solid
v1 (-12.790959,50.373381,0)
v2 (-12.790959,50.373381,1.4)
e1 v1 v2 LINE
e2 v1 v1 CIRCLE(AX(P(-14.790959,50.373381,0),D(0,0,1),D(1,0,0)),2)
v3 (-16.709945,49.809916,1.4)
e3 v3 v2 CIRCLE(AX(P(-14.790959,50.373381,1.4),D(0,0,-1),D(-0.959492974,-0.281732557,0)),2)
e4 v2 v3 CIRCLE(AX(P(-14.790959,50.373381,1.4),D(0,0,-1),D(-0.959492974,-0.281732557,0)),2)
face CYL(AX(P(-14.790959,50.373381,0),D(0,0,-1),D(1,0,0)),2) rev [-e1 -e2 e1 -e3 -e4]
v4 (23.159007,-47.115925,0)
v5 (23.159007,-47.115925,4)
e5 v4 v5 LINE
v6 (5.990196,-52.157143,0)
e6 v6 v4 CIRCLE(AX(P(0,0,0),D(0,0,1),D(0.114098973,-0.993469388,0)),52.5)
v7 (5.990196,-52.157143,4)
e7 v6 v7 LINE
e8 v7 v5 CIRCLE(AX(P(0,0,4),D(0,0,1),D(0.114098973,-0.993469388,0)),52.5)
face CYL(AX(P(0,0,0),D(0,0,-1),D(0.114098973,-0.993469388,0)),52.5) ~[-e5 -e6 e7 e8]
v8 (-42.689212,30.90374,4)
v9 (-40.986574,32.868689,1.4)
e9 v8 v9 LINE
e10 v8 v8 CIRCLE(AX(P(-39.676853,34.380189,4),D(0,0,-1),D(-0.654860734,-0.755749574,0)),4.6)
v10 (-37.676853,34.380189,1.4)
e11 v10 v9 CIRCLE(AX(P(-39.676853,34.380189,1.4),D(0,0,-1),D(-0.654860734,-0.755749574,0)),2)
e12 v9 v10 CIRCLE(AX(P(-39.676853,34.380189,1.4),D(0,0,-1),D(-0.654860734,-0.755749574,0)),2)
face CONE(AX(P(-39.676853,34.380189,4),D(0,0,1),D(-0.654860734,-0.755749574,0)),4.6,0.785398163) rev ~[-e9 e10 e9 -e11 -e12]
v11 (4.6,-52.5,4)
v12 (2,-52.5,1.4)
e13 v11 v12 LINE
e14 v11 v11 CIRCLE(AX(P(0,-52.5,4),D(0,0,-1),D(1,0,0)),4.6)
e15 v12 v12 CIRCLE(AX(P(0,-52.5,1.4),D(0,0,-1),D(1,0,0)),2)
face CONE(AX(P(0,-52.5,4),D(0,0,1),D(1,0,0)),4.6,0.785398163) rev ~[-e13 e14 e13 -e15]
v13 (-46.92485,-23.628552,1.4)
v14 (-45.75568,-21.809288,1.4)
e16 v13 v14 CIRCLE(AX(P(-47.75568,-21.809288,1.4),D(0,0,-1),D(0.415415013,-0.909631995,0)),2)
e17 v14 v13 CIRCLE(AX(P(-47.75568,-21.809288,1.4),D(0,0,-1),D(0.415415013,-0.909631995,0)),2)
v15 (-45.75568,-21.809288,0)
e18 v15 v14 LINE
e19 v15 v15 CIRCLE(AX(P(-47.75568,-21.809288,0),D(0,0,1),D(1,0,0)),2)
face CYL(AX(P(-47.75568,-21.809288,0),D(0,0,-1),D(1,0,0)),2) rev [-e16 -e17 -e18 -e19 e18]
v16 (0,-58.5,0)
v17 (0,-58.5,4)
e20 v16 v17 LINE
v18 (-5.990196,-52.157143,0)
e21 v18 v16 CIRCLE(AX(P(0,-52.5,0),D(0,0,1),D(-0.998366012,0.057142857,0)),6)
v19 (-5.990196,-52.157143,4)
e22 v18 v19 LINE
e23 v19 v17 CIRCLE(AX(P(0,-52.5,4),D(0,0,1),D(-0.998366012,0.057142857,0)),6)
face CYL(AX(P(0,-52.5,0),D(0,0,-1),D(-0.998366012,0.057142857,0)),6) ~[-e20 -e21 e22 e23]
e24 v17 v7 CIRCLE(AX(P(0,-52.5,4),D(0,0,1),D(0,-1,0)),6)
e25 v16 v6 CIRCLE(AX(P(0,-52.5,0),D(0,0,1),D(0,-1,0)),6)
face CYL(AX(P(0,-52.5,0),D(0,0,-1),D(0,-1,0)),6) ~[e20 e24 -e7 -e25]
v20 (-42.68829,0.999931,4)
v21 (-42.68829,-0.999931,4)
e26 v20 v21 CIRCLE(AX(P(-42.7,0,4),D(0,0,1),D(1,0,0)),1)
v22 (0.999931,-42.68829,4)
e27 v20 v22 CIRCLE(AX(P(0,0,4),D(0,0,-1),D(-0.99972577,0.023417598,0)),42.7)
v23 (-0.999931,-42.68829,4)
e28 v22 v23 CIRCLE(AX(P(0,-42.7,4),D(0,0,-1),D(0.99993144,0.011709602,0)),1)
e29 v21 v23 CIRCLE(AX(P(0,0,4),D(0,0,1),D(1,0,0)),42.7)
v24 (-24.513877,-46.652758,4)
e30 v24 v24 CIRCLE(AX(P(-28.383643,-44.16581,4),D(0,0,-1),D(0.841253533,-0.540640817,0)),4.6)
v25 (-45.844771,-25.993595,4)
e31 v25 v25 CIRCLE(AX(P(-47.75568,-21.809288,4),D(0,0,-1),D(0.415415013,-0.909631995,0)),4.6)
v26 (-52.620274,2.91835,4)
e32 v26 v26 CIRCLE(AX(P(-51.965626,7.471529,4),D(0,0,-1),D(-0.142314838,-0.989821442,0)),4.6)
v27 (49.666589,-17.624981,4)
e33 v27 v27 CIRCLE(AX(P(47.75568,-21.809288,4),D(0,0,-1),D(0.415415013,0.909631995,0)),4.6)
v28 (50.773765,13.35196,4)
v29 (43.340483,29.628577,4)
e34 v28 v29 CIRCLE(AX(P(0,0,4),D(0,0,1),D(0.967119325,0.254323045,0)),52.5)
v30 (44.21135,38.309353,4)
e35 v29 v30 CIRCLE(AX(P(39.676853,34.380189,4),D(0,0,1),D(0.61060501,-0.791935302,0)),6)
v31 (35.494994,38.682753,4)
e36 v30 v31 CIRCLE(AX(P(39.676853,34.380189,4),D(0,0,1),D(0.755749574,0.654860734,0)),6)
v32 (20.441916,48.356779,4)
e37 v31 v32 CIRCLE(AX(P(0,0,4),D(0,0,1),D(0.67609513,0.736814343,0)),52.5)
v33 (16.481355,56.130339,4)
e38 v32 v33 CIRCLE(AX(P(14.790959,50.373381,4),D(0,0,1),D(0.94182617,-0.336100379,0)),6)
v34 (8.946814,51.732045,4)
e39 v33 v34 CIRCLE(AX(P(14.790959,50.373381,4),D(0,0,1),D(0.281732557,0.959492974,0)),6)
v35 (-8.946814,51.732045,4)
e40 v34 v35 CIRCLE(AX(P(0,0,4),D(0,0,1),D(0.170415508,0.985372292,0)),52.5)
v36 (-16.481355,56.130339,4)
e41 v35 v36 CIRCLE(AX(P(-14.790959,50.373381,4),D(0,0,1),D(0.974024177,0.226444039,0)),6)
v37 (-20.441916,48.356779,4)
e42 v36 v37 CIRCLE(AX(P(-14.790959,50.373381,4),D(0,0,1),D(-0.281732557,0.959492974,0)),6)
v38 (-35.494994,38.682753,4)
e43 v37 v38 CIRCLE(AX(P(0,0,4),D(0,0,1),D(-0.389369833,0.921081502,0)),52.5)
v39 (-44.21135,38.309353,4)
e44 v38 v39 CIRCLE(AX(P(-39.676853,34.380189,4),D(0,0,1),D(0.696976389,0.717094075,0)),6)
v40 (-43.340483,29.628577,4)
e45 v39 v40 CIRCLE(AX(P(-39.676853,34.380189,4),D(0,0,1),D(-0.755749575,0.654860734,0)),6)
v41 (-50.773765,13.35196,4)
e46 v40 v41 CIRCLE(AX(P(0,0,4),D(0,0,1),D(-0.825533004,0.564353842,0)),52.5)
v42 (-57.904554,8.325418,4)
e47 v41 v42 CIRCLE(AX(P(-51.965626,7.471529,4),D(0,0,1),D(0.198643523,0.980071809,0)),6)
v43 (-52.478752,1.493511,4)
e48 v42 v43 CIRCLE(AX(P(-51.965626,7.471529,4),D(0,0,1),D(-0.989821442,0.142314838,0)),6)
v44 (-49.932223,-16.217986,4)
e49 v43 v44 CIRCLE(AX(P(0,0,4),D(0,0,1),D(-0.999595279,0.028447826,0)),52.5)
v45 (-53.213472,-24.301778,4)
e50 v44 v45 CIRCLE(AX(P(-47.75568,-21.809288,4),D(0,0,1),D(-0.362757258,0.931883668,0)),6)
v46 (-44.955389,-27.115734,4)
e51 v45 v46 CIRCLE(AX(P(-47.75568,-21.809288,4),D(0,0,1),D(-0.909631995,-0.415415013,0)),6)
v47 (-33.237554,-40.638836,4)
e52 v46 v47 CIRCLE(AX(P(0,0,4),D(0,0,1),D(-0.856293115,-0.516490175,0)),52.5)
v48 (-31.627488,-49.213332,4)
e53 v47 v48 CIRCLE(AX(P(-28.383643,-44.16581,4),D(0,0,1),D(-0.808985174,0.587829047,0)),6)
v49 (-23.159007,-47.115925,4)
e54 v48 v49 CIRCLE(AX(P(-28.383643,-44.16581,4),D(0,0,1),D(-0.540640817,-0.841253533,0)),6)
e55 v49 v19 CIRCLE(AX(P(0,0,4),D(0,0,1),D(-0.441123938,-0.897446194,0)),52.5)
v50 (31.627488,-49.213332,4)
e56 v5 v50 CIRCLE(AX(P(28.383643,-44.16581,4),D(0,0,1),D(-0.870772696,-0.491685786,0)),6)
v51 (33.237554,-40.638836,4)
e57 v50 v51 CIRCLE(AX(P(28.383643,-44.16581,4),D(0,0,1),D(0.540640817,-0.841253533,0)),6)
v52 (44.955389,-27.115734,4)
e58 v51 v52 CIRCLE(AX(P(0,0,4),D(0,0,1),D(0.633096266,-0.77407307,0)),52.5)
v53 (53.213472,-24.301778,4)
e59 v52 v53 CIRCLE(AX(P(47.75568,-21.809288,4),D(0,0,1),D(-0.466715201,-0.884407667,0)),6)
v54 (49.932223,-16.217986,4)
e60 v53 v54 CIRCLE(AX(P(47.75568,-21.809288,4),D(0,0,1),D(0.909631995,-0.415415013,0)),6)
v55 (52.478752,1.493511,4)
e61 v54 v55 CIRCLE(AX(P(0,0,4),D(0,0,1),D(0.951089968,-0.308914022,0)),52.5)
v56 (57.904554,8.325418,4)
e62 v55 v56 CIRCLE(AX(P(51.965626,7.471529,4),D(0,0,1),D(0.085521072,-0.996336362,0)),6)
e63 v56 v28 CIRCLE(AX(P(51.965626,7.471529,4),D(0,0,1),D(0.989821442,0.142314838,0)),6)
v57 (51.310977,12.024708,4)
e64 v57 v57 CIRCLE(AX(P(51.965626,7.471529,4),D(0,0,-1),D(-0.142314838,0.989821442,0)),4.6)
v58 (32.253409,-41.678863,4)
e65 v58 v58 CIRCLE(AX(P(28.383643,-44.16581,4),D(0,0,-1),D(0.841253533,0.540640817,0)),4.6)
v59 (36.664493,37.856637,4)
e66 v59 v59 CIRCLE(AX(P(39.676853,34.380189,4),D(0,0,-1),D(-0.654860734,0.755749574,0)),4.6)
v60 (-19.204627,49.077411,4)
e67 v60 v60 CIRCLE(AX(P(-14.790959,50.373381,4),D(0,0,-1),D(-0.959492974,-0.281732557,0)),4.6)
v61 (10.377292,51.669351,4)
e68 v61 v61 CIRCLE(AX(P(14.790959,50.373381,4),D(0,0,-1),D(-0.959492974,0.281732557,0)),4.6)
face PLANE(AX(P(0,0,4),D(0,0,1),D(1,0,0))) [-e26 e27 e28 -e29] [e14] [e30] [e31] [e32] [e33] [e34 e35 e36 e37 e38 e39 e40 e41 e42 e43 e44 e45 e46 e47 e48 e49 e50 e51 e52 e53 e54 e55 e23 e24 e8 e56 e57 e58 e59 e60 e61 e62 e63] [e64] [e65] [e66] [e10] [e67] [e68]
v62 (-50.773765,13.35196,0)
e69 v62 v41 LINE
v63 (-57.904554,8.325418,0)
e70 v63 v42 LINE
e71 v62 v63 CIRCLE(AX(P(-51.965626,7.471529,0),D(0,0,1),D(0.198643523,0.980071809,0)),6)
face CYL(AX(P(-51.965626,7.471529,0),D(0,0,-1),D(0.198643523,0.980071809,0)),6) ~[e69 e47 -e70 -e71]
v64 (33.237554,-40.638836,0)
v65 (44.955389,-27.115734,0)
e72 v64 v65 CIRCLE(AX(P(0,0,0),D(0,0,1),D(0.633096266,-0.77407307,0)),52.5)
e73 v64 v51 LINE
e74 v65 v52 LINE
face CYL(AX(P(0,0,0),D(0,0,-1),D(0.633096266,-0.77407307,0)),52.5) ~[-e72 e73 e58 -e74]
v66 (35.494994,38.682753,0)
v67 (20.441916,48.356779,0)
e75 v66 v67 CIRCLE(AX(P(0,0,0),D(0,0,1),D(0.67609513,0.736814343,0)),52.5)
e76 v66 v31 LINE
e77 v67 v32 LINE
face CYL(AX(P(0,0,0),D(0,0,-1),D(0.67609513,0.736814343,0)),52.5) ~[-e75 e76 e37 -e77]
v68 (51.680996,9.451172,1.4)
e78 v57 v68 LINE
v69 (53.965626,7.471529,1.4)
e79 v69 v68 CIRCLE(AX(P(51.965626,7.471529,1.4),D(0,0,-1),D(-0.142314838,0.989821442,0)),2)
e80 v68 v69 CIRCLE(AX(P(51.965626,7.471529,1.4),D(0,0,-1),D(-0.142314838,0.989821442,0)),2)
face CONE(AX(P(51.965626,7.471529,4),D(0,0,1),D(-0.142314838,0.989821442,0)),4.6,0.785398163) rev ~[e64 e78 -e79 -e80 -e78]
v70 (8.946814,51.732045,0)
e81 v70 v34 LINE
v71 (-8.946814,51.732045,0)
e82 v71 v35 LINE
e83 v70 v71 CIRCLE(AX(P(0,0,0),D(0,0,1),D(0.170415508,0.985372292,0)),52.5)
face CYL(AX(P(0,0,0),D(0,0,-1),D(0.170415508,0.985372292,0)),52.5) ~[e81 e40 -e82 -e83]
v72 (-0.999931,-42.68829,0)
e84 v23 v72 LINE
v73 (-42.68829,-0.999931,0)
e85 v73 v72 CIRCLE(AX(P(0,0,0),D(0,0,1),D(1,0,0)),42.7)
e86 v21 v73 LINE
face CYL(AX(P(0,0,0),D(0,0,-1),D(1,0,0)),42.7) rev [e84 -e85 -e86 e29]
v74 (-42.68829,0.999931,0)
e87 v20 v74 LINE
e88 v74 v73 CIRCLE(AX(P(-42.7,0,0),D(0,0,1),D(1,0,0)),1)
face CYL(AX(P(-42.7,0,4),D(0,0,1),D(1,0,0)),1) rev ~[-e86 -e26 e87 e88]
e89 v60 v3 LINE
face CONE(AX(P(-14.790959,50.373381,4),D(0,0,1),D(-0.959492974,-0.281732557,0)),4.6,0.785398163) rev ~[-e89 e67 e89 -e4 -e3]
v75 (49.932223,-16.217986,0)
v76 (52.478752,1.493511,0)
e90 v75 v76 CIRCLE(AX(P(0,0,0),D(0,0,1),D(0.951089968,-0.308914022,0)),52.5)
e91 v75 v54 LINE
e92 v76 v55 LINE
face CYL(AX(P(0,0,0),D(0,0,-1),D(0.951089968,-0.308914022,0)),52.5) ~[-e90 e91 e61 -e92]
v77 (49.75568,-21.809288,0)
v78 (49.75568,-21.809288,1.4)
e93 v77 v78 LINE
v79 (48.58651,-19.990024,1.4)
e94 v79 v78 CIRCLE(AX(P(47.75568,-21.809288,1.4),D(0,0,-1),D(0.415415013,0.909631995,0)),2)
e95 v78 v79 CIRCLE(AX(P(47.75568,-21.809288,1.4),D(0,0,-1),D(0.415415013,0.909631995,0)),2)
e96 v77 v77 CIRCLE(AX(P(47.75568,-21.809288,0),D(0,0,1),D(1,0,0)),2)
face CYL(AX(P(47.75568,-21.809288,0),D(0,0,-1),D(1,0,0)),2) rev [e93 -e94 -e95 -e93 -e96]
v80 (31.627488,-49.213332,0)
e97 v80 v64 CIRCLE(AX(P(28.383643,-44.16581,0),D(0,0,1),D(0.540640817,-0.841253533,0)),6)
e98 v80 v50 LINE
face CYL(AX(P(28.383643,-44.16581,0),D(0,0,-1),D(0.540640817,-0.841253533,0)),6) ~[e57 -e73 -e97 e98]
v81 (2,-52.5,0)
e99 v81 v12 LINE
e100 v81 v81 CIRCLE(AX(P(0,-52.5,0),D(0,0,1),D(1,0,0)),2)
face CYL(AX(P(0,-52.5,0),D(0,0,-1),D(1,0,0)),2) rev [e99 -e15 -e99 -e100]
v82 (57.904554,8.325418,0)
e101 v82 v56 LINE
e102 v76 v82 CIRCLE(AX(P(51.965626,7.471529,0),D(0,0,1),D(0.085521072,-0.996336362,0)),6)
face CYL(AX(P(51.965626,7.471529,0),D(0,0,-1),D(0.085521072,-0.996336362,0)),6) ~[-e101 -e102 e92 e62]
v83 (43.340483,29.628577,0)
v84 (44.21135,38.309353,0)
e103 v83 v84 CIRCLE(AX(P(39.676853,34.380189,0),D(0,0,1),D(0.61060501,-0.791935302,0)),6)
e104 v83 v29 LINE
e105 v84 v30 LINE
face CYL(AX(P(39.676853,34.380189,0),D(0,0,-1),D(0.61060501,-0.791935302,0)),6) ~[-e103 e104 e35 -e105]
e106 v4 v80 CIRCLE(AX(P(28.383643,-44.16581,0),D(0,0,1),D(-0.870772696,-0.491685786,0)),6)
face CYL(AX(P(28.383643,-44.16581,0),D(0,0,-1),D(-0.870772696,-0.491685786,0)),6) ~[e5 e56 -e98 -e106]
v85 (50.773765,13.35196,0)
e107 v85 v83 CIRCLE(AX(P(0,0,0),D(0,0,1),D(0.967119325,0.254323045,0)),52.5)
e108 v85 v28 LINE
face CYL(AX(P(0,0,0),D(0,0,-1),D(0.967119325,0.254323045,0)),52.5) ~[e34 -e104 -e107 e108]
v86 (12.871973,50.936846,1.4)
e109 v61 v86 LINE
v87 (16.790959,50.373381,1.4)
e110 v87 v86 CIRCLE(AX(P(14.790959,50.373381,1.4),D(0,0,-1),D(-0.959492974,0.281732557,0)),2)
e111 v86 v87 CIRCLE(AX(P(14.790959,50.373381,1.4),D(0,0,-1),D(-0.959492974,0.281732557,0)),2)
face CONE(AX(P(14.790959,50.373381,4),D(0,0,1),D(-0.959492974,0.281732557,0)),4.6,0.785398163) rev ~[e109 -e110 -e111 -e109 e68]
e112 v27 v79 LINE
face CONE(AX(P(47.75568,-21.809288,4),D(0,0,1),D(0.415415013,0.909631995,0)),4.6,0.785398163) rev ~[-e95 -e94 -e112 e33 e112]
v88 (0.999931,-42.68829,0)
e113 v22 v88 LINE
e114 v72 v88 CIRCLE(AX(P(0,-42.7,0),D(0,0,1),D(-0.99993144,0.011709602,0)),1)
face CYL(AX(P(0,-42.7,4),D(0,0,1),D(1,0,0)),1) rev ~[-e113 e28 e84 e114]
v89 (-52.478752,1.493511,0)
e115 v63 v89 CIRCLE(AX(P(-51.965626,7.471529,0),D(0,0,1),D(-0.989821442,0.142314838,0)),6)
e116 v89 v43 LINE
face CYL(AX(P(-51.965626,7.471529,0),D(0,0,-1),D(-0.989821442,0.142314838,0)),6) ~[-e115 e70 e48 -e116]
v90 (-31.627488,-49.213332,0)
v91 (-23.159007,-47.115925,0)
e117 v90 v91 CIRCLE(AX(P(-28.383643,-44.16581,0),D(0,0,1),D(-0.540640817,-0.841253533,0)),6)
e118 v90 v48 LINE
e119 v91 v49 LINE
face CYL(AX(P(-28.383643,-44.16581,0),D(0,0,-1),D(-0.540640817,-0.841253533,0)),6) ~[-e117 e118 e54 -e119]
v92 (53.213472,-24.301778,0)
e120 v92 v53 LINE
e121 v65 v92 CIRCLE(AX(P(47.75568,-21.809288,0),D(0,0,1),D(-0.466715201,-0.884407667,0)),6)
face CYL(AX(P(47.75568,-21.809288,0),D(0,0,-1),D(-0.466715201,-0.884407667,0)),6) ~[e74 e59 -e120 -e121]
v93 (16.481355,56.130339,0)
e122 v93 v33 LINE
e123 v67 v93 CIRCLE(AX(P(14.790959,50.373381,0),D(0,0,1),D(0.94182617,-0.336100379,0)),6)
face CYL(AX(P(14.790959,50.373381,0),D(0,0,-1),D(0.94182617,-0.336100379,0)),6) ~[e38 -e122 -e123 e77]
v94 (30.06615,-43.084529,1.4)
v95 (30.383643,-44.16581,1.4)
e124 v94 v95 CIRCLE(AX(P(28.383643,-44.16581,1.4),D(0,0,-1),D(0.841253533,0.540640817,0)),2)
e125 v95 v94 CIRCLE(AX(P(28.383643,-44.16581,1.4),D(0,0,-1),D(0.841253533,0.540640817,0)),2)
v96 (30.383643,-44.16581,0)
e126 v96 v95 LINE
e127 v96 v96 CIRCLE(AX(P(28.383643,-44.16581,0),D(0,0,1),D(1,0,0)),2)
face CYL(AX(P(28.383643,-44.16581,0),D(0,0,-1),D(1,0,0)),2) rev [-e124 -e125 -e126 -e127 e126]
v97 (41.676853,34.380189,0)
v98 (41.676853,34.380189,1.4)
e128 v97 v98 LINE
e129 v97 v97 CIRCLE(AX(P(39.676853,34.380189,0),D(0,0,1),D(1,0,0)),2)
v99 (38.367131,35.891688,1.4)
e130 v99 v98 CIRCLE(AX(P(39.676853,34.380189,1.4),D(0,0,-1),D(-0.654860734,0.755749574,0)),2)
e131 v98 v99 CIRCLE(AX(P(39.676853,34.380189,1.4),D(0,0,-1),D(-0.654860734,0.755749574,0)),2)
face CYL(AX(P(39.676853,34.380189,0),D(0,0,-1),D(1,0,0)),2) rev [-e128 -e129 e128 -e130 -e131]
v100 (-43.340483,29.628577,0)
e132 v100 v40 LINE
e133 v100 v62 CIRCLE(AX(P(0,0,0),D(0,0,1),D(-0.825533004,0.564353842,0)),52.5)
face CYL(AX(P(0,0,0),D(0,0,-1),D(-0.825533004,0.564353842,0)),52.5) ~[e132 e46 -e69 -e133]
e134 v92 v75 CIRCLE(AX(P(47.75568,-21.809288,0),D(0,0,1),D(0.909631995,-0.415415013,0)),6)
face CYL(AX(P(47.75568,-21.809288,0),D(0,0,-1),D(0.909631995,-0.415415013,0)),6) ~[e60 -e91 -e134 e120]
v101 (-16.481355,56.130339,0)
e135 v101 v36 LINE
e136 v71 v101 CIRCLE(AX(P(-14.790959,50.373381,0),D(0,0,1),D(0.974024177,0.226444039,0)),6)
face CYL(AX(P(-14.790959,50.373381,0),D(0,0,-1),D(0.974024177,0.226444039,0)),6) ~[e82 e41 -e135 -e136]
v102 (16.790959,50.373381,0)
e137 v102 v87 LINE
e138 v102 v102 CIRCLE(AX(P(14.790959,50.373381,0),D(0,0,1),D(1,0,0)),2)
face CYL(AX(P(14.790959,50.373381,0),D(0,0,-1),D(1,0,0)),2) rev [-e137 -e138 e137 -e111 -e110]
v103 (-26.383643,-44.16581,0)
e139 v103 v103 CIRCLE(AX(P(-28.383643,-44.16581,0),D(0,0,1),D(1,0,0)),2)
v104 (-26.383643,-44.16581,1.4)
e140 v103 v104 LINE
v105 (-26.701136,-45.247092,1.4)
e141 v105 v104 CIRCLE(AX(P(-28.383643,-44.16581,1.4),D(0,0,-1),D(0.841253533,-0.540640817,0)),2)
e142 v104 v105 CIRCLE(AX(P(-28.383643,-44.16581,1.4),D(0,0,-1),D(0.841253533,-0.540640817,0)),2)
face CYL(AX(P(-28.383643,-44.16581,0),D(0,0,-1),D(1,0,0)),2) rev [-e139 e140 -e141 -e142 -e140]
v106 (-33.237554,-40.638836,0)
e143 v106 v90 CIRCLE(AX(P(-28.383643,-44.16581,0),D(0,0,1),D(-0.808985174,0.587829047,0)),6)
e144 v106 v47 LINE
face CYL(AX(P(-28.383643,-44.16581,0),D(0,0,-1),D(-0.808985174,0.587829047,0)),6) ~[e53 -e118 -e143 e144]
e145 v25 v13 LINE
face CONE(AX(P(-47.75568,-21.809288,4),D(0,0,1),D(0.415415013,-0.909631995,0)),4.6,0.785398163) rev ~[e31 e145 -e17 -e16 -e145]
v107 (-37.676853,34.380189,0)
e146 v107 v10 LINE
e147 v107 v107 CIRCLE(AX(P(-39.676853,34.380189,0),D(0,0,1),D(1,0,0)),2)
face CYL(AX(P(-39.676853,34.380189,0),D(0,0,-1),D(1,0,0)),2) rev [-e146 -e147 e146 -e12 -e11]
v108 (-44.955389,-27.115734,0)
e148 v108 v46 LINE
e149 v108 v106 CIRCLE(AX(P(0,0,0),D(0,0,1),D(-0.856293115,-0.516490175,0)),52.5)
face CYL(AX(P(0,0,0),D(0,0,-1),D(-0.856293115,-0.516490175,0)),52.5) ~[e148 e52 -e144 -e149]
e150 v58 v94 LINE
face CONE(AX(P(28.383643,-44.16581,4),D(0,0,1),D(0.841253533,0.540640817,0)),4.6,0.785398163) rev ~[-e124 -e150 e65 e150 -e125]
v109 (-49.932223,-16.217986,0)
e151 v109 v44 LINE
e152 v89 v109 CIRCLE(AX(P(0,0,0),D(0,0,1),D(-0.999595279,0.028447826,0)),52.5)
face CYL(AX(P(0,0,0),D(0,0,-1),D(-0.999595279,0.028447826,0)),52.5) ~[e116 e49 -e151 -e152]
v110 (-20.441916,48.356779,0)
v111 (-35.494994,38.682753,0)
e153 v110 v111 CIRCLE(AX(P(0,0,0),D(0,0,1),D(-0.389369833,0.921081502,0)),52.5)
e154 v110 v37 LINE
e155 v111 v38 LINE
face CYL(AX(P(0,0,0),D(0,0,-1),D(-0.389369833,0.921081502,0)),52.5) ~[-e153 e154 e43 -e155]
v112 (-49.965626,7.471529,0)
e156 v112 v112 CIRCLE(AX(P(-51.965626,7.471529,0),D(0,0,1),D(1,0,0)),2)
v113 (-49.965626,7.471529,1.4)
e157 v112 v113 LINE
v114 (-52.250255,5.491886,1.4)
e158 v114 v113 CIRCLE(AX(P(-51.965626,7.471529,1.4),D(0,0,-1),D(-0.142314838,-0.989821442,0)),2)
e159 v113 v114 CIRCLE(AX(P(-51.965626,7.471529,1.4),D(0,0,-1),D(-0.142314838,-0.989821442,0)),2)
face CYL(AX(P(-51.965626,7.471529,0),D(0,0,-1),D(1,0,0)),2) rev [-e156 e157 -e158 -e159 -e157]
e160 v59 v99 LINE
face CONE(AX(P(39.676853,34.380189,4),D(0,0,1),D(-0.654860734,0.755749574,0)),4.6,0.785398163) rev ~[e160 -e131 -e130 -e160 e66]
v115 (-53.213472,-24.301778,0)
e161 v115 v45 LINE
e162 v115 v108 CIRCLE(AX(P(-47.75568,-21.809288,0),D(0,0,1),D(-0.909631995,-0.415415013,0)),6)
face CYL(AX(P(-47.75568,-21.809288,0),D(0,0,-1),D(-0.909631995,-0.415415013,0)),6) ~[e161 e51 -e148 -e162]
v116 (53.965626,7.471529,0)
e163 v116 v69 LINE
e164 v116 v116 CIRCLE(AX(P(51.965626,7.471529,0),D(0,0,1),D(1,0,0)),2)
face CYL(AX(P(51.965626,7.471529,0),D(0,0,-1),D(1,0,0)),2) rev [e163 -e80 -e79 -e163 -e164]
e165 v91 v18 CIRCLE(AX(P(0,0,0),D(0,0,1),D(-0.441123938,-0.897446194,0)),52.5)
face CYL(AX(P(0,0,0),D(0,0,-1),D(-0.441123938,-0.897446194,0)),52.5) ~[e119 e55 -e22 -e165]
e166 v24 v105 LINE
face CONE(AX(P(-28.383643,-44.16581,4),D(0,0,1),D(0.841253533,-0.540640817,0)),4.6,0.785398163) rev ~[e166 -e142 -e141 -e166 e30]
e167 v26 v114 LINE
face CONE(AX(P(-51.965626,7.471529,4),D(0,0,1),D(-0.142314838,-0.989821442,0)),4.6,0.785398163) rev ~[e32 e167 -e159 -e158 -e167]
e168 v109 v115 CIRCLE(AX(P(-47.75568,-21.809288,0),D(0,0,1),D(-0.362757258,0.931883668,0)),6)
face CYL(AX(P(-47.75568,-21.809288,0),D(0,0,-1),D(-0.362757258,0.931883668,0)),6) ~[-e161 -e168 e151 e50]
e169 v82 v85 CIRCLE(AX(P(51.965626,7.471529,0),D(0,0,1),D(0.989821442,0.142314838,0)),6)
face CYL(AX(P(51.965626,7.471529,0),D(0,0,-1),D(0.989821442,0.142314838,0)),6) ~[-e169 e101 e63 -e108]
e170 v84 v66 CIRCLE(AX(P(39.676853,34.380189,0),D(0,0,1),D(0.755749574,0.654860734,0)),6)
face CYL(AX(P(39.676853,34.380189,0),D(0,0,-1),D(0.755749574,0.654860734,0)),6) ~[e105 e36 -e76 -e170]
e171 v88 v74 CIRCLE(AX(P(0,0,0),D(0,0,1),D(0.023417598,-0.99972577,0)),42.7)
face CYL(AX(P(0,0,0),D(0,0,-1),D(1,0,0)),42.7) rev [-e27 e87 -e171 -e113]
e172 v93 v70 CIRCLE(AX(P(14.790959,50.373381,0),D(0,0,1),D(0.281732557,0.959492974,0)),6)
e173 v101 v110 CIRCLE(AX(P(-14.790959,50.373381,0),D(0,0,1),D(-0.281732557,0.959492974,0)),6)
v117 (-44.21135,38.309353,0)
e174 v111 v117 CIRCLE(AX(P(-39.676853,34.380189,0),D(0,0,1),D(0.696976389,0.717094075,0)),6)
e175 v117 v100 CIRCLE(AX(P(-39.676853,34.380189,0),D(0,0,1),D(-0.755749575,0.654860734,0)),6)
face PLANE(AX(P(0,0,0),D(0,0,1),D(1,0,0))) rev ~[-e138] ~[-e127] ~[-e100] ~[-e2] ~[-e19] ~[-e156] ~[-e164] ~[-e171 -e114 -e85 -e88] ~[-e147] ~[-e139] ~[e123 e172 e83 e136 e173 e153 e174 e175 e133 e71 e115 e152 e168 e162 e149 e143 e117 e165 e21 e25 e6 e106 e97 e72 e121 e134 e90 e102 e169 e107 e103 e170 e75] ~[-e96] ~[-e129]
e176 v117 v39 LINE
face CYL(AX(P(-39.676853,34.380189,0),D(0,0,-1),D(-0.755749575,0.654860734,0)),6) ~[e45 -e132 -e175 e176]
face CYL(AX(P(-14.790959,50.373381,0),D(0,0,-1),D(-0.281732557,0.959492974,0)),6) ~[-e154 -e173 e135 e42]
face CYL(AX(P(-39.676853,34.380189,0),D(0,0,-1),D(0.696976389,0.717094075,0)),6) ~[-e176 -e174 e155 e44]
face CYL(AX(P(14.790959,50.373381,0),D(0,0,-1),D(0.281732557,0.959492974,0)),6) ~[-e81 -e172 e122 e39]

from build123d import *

# Parameters (mm, degrees)
SKETCH_1_R               = 42.7
SKETCH_1_R_2             = 2
EXTRUDE_1_DEPTH          = 4
SKETCH_2_R               = 1
CUT_EXTRUDE_1_DEPTH      = 4
PATTERN_CIRCULAR_1_COUNT = 11


with BuildPart() as part:
    # 草图1 → 凸台-拉伸1 (new body)
    with BuildSketch(Plane.XY):
        with BuildLine():
            ThreePointArc((-57.90455435, 8.325418039), (-56.664135325, 3.740040393), (-52.478752132, 1.493510837))
            ThreePointArc((-52.478752132, 1.493510837), (-51.965625699, -7.471529009), (-49.932223308, -16.217986173))
            ThreePointArc((-49.932223308, -16.217986173), (-53.315148558, -19.552674205), (-53.213471728, -24.301778261))
            ThreePointArc((-53.213471728, -24.301778261), (-49.690922522, -27.488622249), (-44.95538855, -27.115734184))
            ThreePointArc((-44.95538855, -27.115734184), (-39.676852654, -34.380188532), (-33.237553958, -40.63883619))
            ThreePointArc((-33.237553958, -40.63883619), (-34.280583312, -45.27310175), (-31.627487821, -49.213331671))
            ThreePointArc((-31.627487821, -49.213331671), (-26.941192918, -49.989841552), (-23.159006743, -47.115925192))
            ThreePointArc((-23.159006743, -47.115925192), (-14.790959234, -50.373381115), (-5.990196072, -52.157142857))
            ThreePointArc((-5.990196072, -52.157142857), (-4.36217508, -56.619639374), (0, -58.5))
            ThreePointArc((0, -58.5), (4.36217508, -56.619639374), (5.990196072, -52.157142857))
            ThreePointArc((5.990196072, -52.157142857), (14.790959234, -50.373381115), (23.159006743, -47.115925192))
            ThreePointArc((23.159006743, -47.115925192), (26.941192918, -49.989841552), (31.627487821, -49.213331671))
            ThreePointArc((31.627487821, -49.213331671), (34.280583312, -45.27310175), (33.237553958, -40.63883619))
            ThreePointArc((33.237553958, -40.63883619), (39.676852654, -34.380188532), (44.95538855, -27.115734184))
            ThreePointArc((44.95538855, -27.115734184), (49.690922522, -27.488622249), (53.213471728, -24.301778261))
            ThreePointArc((53.213471728, -24.301778261), (53.315148558, -19.552674205), (49.932223308, -16.217986173))
            ThreePointArc((49.932223308, -16.217986173), (51.965625699, -7.471529009), (52.478752132, 1.493510837))
            ThreePointArc((52.478752132, 1.493510837), (56.664135325, 3.740040393), (57.90455435, 8.325418039))
            ThreePointArc((57.90455435, 8.325418039), (55.422530843, 12.375589248), (50.773764562, 13.351959864))
            ThreePointArc((50.773764562, 13.351959864), (47.755679756, 21.809288183), (43.34048271, 29.62857672))
            ThreePointArc((43.34048271, 29.62857672), (45.646885531, 33.781266636), (44.2113501, 38.309352936))
            ThreePointArc((44.2113501, 38.309352936), (39.933651182, 40.374690556), (35.494994318, 38.682752984))
            ThreePointArc((35.494994318, 38.682752984), (28.383642916, 44.165810474), (20.441916256, 48.35677884))
            ThreePointArc((20.441916256, 48.35677884), (20.137072107, 53.097179409), (16.481354575, 56.130338956))
            ThreePointArc((16.481354575, 56.130338956), (11.766119429, 55.555112887), (8.946814173, 51.732045351))
            ThreePointArc((8.946814173, 51.732045351), (0, 52.5), (-8.946814173, 51.732045351))
            ThreePointArc((-8.946814173, 51.732045351), (-11.766119429, 55.555112887), (-16.481354575, 56.130338956))
            ThreePointArc((-16.481354575, 56.130338956), (-20.137072107, 53.097179409), (-20.441916256, 48.35677884))
            ThreePointArc((-20.441916256, 48.35677884), (-28.383642916, 44.165810474), (-35.494994318, 38.682752984))
            ThreePointArc((-35.494994318, 38.682752984), (-39.933651182, 40.374690556), (-44.2113501, 38.309352936))
            ThreePointArc((-44.2113501, 38.309352936), (-45.646885531, 33.781266636), (-43.34048271, 29.62857672))
            ThreePointArc((-43.34048271, 29.62857672), (-47.755679756, 21.809288183), (-50.773764562, 13.351959864))
            ThreePointArc((-50.773764562, 13.351959864), (-55.422530843, 12.375589248), (-57.90455435, 8.325418039))
        make_face()
        Circle(SKETCH_1_R, mode=Mode.SUBTRACT)
        with Locations((-51.965625699, 7.471529009)):
            Circle(SKETCH_1_R_2, mode=Mode.SUBTRACT)
        with Locations((-39.676852654, 34.380188532)):
            Circle(SKETCH_1_R_2, mode=Mode.SUBTRACT)
        with Locations((-14.790959234, 50.373381115)):
            Circle(SKETCH_1_R_2, mode=Mode.SUBTRACT)
        with Locations((14.790959234, 50.373381115)):
            Circle(SKETCH_1_R_2, mode=Mode.SUBTRACT)
        with Locations((39.676852654, 34.380188532)):
            Circle(SKETCH_1_R_2, mode=Mode.SUBTRACT)
        with Locations((51.965625699, 7.471529009)):
            Circle(SKETCH_1_R_2, mode=Mode.SUBTRACT)
        with Locations((47.755679756, -21.809288183)):
            Circle(SKETCH_1_R_2, mode=Mode.SUBTRACT)
        with Locations((28.383642916, -44.165810474)):
            Circle(SKETCH_1_R_2, mode=Mode.SUBTRACT)
        with Locations((0, -52.5)):
            Circle(SKETCH_1_R_2, mode=Mode.SUBTRACT)
        with Locations((-28.383642916, -44.165810474)):
            Circle(SKETCH_1_R_2, mode=Mode.SUBTRACT)
        with Locations((-47.755679756, -21.809288183)):
            Circle(SKETCH_1_R_2, mode=Mode.SUBTRACT)
    extrude(amount=EXTRUDE_1_DEPTH)

    # 草图2 → 切除-拉伸1 (cut)
    with BuildSketch(Plane.XY.offset(4)):
        with Locations((0, -42.7)):
            Circle(SKETCH_2_R)
        with Locations((-42.7, 0)):
            Circle(SKETCH_2_R)
    extrude(amount=-CUT_EXTRUDE_1_DEPTH, mode=Mode.SUBTRACT)

    # 草图4 → 切除-旋转1 (revolve, cut)
    with BuildSketch(Plane(origin=(0, 0, 0), x_dir=(0, 0, -1), z_dir=(1, 0, 0)), mode=Mode.PRIVATE) as cut_revolve_1_sk:
        Polygon((-4, -52.5), (-4, -57.1), (-1.4, -54.5), (-1.4, -52.5), align=None)
    cut_revolve_1 = revolve(cut_revolve_1_sk.sketch.rotate(Axis((0, -52.5, 4), (0, 0, -1)), 270), axis=Axis((0, -52.5, 4), (0, 0, -1)), mode=Mode.SUBTRACT)

    # 阵列(圆周)1: 切除-旋转1 ×11 about axis
    pattern_circular_1_axis = Axis((0, 0, 0), (0, 0, 1))
    for i in range(1, PATTERN_CIRCULAR_1_COUNT):
        add(cut_revolve_1.rotate(pattern_circular_1_axis, i * 360 / PATTERN_CIRCULAR_1_COUNT), mode=Mode.SUBTRACT)


solid = part.part
